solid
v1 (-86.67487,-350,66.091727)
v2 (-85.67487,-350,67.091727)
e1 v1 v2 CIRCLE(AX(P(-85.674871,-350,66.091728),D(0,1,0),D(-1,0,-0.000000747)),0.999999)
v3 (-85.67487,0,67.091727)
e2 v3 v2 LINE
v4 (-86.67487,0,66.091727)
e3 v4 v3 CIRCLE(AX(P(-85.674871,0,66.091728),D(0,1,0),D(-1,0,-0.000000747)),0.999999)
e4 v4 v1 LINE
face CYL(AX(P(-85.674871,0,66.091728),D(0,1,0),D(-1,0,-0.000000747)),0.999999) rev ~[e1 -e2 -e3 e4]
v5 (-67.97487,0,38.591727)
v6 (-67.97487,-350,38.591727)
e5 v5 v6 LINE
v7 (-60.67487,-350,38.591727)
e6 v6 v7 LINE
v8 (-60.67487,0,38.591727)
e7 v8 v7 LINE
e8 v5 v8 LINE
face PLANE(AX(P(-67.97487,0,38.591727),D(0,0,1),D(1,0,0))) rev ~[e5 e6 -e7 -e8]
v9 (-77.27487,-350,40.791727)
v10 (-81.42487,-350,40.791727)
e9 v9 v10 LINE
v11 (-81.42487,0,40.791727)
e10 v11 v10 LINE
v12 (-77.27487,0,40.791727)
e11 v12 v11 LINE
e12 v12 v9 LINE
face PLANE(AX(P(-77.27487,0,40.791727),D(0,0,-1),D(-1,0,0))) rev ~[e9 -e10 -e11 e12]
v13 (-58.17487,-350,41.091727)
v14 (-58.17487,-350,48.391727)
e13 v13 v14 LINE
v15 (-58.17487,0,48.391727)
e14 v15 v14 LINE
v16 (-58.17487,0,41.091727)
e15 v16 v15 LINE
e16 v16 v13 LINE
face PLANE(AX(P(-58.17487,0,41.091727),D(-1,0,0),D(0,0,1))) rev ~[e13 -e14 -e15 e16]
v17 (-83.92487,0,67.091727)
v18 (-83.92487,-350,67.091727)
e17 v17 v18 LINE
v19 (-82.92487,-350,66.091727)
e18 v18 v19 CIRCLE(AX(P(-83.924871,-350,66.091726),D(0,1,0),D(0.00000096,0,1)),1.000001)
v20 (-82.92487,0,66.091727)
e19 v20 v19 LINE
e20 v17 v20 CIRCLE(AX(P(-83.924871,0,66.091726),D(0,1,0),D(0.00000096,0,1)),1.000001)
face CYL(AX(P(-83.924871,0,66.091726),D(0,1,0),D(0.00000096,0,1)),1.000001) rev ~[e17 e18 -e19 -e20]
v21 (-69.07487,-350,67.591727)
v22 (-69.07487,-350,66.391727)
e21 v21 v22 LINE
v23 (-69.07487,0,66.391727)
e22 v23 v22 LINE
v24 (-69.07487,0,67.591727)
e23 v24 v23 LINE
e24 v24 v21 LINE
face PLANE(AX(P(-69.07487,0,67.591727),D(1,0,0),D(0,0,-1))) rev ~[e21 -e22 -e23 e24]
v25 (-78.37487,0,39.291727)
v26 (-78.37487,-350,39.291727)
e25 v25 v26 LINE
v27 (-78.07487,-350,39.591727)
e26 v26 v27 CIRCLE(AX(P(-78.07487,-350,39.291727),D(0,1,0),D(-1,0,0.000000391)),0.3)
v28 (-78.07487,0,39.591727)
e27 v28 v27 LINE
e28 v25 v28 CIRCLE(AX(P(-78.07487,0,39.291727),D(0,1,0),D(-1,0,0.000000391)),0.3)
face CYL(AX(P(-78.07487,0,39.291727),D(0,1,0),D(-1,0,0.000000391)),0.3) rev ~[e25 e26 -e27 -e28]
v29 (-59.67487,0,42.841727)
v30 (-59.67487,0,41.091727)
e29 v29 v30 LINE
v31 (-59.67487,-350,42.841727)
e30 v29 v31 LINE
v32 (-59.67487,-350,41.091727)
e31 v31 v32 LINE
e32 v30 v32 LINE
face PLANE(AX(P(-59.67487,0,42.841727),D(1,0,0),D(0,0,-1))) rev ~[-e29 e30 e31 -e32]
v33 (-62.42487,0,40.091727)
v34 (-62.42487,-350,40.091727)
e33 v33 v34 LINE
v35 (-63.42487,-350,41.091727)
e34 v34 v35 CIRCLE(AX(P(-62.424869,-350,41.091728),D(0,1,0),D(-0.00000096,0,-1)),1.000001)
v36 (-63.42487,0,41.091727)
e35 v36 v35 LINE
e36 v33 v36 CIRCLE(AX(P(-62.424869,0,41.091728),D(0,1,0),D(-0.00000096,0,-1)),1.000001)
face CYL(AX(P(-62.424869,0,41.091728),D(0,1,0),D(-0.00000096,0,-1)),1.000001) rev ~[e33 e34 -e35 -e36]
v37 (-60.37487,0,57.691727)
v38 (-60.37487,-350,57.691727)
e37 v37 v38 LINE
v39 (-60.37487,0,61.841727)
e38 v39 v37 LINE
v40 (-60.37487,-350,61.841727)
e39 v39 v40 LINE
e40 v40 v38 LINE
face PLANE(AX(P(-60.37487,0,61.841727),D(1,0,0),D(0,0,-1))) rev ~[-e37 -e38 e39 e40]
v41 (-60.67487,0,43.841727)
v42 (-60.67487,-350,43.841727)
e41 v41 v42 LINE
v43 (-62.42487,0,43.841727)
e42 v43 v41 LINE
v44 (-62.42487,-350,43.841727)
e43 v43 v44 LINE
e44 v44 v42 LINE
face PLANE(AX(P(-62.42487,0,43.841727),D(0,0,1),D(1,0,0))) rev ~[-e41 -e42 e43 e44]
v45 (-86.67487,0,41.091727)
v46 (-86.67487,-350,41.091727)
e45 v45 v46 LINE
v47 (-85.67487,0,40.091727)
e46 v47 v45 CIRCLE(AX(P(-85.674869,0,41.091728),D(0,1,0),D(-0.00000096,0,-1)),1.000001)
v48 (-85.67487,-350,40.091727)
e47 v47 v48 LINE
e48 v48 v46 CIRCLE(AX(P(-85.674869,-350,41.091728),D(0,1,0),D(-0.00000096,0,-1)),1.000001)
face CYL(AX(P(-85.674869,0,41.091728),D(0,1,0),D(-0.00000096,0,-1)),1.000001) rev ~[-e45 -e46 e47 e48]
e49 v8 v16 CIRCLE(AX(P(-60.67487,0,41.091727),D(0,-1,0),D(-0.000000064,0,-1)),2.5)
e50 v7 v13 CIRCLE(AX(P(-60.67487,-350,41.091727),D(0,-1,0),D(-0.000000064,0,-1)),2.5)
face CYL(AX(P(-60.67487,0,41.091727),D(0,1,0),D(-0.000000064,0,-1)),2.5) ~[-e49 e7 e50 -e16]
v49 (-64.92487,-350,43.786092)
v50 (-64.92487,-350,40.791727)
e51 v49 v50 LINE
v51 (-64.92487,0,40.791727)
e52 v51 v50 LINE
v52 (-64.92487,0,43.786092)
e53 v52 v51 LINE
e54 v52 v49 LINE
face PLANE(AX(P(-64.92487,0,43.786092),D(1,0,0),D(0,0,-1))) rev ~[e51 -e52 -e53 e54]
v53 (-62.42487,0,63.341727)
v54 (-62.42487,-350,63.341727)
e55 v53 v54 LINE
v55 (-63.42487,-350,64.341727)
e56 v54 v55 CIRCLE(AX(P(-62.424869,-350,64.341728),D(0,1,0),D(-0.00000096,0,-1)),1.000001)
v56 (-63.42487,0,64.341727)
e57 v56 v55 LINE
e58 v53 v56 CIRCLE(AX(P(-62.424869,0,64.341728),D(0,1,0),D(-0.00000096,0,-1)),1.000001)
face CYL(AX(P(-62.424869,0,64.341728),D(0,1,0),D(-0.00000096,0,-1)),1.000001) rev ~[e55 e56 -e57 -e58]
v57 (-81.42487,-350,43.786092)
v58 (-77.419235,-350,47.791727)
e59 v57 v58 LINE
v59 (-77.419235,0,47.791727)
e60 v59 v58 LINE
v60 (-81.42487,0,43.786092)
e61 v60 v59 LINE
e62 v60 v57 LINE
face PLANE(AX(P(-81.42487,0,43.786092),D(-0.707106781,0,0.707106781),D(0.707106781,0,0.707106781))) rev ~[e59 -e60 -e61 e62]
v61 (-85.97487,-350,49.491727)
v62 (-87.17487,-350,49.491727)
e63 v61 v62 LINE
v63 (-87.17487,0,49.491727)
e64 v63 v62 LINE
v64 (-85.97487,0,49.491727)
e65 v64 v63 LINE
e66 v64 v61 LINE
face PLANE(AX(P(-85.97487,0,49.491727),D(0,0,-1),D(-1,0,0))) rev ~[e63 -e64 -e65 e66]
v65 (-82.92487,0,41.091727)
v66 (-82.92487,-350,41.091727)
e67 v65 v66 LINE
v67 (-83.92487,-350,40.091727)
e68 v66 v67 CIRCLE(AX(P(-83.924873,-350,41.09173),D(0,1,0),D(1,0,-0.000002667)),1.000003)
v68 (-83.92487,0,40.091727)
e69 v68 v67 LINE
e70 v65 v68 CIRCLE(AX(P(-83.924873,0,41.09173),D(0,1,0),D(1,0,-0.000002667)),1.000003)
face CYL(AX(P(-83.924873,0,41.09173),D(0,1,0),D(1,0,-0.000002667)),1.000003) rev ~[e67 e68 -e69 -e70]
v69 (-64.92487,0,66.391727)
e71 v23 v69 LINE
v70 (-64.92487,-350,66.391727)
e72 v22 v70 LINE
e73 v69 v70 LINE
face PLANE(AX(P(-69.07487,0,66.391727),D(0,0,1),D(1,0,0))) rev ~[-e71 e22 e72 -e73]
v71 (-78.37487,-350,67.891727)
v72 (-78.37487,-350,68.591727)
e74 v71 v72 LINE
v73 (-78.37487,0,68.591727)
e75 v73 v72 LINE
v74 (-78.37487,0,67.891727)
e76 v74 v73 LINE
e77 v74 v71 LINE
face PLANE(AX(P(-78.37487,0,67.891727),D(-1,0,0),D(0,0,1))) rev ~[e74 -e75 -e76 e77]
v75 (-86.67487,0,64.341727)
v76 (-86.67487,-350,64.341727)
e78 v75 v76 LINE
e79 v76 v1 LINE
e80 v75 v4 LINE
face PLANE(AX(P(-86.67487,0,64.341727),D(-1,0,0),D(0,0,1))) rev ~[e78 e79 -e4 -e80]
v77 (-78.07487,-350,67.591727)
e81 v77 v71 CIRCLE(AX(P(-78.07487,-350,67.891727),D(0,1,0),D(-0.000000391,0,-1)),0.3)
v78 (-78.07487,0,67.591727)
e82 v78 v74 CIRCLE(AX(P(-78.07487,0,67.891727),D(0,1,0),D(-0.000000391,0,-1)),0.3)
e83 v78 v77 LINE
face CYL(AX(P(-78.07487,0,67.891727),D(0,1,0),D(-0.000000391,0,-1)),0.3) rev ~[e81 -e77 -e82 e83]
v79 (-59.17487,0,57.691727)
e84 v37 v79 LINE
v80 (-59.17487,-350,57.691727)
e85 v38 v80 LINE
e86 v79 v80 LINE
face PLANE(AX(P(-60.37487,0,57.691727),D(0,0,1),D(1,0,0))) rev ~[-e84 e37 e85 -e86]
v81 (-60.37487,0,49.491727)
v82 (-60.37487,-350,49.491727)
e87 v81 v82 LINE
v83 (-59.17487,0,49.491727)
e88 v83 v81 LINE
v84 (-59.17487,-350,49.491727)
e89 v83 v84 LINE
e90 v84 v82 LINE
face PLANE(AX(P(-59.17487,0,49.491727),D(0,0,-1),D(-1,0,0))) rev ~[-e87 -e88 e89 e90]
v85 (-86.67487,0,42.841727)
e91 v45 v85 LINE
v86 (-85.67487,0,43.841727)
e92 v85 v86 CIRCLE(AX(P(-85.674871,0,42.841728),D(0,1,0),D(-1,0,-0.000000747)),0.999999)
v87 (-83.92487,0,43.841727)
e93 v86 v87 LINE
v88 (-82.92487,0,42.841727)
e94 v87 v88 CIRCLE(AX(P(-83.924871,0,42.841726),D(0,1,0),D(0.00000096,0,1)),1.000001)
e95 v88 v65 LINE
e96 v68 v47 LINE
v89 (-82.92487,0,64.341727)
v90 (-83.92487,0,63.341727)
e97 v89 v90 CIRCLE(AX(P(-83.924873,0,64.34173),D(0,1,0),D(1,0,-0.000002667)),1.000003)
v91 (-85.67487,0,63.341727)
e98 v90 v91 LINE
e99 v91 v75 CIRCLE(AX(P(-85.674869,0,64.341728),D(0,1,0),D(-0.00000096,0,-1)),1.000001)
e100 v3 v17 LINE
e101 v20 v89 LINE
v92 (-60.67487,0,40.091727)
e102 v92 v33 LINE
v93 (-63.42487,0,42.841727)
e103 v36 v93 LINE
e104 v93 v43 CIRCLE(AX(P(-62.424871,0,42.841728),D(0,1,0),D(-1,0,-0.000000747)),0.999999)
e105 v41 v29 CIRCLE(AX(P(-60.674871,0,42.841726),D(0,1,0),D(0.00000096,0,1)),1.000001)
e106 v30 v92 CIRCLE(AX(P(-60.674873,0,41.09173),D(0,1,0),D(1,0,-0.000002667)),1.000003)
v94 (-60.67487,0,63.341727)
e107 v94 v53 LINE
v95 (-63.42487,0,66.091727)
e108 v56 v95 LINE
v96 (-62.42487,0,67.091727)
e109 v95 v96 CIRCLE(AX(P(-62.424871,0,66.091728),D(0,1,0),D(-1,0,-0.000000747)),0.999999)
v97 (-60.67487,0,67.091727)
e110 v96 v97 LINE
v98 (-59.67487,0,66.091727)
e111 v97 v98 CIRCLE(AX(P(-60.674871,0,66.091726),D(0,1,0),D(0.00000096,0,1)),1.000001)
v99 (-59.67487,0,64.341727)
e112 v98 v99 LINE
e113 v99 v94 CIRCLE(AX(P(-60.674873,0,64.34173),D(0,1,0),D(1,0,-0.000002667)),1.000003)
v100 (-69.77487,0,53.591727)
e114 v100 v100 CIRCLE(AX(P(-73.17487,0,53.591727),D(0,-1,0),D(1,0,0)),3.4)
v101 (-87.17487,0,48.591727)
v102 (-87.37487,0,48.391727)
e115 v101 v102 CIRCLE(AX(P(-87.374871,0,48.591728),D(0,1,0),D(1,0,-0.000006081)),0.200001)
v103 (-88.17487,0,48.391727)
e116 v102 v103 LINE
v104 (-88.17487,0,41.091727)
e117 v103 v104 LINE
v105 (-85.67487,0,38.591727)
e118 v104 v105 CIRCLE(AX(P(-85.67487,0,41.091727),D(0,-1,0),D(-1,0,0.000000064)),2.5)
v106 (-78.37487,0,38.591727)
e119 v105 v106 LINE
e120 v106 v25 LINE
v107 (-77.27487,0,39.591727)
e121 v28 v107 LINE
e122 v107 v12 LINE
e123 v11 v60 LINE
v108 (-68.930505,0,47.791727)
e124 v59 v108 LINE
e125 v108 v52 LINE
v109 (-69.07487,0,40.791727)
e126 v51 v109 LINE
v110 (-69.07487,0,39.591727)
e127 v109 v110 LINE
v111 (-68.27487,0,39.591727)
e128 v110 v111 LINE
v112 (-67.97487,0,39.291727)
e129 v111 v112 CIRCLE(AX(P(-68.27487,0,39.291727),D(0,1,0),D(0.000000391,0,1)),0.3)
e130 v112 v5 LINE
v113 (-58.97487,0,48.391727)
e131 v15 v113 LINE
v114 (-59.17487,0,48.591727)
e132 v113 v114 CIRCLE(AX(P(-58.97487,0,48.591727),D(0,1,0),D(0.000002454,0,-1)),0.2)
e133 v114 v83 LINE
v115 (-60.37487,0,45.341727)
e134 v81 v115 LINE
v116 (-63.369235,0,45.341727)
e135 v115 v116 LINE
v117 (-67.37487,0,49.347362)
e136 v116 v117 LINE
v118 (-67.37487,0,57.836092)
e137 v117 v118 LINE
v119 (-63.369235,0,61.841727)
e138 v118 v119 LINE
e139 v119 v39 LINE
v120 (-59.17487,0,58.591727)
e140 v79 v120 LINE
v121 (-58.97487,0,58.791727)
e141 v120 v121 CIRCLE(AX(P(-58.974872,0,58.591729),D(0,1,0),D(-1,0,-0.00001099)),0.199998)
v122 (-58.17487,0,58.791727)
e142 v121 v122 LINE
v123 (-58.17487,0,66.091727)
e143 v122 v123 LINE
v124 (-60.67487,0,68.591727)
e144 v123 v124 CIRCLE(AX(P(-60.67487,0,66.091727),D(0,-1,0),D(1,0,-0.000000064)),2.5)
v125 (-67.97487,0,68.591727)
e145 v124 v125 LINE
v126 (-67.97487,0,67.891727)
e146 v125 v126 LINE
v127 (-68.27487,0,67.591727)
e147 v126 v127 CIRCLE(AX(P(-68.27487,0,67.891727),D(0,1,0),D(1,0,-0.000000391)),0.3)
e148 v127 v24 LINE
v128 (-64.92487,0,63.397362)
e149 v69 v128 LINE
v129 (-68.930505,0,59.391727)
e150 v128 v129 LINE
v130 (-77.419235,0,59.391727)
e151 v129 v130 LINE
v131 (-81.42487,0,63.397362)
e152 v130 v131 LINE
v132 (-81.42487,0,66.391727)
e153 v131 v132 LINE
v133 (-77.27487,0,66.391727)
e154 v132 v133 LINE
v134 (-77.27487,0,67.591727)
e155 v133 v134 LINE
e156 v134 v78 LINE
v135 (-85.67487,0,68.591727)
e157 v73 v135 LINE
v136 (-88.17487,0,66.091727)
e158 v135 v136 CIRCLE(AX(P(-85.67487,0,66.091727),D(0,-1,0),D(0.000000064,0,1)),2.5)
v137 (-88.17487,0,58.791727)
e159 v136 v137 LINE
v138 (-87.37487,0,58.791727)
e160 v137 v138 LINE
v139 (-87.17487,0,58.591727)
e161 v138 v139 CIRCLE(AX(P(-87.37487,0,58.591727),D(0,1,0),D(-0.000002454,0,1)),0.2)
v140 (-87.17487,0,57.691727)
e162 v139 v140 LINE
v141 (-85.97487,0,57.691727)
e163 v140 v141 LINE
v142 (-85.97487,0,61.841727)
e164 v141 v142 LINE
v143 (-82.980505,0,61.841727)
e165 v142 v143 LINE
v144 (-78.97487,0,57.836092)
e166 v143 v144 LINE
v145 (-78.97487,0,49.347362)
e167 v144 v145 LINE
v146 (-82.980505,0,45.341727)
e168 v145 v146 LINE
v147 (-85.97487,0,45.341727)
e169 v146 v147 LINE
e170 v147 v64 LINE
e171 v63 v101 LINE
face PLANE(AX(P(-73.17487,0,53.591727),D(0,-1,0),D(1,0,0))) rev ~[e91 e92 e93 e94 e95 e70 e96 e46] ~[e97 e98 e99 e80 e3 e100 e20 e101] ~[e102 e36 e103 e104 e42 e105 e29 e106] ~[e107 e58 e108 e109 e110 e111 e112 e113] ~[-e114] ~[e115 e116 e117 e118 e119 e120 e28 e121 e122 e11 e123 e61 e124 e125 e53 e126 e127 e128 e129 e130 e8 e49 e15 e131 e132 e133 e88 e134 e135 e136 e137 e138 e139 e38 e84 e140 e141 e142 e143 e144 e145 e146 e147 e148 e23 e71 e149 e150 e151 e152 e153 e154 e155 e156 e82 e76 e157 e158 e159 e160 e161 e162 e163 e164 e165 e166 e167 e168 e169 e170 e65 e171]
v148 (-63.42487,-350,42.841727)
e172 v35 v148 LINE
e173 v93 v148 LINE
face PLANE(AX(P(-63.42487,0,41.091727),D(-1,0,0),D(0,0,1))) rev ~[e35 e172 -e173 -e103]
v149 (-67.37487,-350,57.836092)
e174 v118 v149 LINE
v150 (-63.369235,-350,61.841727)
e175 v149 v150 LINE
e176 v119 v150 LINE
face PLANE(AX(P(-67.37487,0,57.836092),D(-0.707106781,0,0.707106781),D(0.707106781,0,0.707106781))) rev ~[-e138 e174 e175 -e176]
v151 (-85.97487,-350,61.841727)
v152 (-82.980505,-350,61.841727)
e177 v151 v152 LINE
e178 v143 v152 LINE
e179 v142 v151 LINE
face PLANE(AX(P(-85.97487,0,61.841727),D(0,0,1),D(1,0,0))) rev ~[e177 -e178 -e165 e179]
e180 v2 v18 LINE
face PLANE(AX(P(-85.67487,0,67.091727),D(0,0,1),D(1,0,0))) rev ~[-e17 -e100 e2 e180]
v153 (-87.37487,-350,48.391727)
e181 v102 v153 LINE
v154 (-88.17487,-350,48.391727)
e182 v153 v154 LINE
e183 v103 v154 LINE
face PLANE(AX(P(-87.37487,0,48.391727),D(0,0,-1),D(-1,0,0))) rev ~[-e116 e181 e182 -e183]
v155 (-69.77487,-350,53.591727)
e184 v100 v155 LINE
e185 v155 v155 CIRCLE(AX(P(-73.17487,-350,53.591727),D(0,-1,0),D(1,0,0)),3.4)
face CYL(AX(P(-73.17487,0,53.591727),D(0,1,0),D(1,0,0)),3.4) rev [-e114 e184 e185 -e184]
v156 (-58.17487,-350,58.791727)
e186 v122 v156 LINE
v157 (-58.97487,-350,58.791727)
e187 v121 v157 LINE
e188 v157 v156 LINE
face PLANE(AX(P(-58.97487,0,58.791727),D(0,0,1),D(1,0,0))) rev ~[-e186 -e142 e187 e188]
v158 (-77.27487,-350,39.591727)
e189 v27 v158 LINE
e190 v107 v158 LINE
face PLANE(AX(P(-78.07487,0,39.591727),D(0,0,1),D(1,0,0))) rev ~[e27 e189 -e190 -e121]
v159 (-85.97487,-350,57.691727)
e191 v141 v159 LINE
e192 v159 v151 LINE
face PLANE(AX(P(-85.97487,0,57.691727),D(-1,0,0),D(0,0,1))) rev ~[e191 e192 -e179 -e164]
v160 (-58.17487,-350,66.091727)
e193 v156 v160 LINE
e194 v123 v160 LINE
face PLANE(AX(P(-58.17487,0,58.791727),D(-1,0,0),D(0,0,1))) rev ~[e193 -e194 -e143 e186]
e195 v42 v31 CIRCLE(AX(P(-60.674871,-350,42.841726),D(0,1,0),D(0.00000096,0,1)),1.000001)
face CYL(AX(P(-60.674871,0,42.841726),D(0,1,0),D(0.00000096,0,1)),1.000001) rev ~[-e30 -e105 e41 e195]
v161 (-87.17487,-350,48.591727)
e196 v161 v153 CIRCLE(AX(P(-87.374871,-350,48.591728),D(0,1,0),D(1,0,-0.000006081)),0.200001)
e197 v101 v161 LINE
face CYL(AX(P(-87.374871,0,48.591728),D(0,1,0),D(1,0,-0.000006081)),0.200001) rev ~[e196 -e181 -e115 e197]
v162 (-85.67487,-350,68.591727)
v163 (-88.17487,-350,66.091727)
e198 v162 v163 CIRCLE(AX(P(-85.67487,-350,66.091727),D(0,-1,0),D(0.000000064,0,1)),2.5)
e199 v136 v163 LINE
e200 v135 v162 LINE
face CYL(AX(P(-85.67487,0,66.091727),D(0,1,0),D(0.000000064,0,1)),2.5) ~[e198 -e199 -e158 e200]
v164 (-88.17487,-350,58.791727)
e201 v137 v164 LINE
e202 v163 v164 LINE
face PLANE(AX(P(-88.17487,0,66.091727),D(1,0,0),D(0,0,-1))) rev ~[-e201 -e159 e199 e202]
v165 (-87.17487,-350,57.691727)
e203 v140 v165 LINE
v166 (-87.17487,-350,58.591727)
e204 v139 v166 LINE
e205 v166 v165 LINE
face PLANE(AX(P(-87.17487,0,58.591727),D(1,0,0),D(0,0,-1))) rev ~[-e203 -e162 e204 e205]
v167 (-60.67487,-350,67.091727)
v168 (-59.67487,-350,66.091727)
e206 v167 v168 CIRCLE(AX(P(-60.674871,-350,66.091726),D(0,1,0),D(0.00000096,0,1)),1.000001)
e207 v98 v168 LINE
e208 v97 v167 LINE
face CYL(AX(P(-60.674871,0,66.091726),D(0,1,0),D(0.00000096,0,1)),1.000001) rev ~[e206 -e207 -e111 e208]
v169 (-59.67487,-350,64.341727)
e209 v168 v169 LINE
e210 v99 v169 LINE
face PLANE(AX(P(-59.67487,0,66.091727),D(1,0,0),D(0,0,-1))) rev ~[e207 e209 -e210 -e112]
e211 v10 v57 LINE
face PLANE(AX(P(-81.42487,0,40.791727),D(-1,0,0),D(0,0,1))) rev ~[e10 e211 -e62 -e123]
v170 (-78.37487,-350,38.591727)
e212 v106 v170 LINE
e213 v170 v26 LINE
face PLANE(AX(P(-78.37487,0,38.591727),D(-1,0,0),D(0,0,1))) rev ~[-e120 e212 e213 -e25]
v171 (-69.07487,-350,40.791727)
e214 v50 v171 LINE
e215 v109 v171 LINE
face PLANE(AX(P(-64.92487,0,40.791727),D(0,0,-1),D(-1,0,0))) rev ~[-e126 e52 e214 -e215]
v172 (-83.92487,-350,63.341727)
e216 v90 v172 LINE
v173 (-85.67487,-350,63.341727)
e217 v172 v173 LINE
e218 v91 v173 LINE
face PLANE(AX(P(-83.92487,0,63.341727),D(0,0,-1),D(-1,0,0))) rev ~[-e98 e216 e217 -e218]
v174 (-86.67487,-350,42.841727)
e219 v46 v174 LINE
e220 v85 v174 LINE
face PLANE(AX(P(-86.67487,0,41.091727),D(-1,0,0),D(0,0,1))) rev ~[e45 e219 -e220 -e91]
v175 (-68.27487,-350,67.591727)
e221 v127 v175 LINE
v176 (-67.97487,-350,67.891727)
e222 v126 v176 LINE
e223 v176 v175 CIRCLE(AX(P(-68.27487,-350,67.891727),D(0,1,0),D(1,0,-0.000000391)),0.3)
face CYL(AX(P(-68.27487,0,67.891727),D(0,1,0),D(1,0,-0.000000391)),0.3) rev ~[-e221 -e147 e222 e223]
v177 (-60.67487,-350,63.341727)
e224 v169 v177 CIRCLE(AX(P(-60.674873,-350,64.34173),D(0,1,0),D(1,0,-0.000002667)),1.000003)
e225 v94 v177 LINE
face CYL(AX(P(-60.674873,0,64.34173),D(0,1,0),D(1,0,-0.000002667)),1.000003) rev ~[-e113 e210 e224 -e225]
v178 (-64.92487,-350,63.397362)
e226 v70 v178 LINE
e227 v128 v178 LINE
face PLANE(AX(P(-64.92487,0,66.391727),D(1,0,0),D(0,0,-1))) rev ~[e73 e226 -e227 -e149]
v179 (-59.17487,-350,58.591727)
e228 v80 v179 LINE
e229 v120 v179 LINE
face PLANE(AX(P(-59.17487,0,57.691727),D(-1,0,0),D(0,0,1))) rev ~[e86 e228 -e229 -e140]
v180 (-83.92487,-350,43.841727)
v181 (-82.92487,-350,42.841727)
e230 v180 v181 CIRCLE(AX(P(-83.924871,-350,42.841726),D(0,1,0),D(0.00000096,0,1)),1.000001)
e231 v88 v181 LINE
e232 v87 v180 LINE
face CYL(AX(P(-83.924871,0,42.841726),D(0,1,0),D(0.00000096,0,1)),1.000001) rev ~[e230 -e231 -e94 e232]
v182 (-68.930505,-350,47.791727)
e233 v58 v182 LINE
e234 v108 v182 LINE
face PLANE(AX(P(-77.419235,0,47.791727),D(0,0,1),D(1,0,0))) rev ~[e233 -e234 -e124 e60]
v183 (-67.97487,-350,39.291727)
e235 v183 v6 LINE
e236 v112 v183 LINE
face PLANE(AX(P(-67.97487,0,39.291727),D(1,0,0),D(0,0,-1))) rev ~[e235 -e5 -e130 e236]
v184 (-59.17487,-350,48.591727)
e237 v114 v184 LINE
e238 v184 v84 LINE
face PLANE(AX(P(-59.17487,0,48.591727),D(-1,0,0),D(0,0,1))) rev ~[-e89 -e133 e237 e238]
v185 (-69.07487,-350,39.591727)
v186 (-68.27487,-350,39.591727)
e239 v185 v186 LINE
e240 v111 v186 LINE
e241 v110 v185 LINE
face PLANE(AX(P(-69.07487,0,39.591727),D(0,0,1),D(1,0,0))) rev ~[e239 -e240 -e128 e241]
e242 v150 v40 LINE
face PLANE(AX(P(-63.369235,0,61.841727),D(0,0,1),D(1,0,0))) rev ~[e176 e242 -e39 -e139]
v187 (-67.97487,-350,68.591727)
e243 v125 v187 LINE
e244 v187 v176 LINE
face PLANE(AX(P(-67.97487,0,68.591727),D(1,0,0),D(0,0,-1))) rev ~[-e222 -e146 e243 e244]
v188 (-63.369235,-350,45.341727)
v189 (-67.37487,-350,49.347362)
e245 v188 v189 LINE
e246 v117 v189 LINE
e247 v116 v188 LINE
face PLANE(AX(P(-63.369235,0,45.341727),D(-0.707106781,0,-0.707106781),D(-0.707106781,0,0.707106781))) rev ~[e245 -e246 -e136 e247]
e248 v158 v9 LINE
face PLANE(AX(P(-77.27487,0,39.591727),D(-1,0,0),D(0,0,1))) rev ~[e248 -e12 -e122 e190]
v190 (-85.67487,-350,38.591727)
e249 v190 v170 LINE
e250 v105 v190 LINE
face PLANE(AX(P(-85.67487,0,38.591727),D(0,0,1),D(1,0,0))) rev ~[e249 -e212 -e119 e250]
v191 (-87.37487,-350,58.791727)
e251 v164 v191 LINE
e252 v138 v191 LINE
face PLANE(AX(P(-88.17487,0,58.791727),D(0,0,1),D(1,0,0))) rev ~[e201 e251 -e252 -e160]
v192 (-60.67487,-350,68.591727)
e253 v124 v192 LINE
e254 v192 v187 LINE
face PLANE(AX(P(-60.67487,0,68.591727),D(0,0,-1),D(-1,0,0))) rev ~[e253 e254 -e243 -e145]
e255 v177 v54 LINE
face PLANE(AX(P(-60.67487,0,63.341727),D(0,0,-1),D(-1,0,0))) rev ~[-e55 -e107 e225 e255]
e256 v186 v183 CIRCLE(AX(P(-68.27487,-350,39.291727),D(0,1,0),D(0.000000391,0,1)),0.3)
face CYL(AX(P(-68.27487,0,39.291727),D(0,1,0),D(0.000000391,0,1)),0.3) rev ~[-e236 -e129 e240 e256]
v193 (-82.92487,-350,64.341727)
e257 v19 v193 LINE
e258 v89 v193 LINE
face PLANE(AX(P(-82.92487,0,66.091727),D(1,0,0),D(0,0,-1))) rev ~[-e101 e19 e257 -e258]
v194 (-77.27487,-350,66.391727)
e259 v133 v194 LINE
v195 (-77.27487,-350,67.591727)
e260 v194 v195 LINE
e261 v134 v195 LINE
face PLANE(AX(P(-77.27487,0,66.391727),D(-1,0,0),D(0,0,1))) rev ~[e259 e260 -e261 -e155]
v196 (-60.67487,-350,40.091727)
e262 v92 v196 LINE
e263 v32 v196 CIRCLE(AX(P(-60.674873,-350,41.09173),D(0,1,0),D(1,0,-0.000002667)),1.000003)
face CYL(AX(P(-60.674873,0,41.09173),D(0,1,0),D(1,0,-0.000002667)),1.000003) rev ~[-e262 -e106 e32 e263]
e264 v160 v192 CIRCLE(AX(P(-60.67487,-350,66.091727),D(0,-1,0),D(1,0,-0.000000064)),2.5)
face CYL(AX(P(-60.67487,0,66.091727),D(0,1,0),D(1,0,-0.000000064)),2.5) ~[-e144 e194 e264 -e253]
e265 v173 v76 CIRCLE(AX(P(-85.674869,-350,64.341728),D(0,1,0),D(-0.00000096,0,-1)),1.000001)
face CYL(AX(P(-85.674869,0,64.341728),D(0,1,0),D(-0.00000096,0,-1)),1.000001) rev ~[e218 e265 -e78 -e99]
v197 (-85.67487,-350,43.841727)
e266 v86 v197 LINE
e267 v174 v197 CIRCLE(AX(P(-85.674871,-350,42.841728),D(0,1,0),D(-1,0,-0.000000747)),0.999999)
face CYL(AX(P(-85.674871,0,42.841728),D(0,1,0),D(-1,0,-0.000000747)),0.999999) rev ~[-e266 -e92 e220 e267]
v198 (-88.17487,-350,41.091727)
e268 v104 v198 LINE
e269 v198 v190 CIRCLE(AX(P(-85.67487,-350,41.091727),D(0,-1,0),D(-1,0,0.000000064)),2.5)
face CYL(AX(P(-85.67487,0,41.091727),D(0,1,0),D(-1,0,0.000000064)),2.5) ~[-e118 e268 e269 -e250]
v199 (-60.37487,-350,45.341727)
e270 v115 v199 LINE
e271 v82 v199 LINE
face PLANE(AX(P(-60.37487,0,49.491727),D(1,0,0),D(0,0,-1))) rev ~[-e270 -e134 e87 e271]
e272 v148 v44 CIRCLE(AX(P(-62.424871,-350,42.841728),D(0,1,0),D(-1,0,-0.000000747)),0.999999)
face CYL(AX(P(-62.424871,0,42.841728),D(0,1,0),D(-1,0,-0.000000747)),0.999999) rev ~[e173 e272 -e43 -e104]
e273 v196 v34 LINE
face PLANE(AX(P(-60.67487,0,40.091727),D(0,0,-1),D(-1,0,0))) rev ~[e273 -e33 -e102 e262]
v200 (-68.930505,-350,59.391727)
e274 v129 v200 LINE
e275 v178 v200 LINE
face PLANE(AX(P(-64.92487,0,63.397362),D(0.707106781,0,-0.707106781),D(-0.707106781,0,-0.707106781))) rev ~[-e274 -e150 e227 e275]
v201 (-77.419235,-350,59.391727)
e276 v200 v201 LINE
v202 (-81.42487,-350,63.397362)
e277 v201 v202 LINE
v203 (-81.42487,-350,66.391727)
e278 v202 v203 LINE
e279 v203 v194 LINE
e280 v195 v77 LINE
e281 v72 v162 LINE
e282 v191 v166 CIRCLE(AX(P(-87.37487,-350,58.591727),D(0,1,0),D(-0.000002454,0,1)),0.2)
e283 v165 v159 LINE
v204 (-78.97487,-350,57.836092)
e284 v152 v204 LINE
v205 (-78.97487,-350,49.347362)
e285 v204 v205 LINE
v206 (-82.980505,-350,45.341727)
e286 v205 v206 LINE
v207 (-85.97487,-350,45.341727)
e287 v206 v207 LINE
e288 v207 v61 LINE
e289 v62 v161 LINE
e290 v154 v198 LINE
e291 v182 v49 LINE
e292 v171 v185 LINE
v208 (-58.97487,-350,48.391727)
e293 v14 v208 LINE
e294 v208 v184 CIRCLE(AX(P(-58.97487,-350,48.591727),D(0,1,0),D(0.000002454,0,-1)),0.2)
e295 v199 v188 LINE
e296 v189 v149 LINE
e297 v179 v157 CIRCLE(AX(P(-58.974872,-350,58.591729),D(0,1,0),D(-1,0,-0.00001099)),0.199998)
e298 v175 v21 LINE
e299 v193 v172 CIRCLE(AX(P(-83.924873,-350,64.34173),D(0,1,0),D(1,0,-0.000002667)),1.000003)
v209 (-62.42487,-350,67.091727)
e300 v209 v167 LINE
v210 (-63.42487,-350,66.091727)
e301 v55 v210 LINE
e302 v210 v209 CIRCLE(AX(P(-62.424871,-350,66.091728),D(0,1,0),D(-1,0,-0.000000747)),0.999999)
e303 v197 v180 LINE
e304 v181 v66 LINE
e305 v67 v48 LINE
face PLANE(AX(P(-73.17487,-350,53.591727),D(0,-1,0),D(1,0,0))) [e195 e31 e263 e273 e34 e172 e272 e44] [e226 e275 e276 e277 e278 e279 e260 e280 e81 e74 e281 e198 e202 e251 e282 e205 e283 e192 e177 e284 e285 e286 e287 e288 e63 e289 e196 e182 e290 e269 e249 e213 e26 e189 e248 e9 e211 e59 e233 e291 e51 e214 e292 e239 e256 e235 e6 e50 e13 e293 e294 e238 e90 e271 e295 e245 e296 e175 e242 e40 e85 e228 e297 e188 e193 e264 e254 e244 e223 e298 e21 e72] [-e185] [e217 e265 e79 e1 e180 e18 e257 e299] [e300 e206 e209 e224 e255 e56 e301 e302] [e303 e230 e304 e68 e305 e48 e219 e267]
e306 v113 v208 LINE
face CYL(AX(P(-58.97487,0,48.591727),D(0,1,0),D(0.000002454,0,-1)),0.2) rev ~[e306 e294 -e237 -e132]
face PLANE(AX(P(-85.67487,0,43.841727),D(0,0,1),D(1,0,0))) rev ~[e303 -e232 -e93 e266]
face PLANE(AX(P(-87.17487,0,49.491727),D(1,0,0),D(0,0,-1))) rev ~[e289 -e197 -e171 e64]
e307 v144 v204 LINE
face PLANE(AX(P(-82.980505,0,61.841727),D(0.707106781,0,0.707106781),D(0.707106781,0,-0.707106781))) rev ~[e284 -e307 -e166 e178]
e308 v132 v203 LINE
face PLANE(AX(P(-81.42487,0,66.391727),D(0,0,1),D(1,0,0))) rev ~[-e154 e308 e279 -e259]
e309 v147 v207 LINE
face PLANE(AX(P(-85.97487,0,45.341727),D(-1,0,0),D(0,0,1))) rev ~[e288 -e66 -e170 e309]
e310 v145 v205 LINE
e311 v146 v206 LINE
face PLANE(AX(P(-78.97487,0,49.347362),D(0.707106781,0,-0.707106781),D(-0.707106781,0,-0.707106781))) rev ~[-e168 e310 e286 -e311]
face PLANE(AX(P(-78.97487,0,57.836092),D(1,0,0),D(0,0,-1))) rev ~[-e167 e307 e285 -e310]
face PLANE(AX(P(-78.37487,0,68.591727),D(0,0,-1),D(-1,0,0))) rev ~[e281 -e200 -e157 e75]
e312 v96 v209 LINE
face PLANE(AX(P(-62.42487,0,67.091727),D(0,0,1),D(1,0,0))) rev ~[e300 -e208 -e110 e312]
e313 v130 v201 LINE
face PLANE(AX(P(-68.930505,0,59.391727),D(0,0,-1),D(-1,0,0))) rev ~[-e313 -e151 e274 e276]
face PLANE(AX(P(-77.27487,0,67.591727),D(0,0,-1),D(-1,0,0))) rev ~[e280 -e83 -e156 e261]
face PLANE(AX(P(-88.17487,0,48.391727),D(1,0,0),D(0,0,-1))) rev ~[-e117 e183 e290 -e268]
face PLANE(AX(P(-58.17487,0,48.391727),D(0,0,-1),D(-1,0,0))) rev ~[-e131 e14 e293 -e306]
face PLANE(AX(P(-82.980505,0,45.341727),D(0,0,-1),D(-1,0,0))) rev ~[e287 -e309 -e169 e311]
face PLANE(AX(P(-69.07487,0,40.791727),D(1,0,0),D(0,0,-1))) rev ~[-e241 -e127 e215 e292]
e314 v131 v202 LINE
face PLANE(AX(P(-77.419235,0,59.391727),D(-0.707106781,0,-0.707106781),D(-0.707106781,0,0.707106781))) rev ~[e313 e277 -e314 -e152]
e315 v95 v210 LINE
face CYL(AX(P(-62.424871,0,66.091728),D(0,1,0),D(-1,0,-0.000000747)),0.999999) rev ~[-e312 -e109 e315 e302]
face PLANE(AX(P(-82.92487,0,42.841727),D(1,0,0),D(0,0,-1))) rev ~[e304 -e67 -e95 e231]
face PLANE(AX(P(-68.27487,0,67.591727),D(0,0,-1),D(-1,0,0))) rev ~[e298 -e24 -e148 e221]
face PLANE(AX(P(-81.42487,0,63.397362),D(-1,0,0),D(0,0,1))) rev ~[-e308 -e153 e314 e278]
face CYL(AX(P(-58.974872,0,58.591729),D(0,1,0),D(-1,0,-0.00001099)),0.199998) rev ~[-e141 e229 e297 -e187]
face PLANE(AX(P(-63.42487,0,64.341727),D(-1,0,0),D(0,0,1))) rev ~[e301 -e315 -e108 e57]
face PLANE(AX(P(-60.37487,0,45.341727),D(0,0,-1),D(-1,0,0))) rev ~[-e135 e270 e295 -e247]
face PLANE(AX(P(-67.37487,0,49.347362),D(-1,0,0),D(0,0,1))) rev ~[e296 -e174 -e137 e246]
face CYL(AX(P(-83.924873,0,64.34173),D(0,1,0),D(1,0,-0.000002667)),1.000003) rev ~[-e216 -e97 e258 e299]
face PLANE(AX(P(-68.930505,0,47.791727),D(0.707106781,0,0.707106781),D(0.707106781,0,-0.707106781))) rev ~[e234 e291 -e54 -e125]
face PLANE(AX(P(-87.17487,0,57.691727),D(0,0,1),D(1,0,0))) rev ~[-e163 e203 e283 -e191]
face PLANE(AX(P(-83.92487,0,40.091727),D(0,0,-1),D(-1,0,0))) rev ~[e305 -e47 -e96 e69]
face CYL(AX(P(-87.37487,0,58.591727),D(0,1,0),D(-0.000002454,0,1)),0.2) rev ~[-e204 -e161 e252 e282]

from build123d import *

# Parameters (mm, degrees)
F0_R     = 3.4
F1_DEPTH = 350


with BuildPart() as f1:
    # F0 (on Front) → F1 (new body)
    with BuildSketch(Plane.XZ):
        with BuildLine():
            Line((-67.97487, 38.591727), (-60.67487, 38.591727))
            ThreePointArc((-60.67487, 38.591727), (-58.907103, 39.32396), (-58.17487, 41.091727))
            Line((-58.17487, 41.091727), (-58.17487, 48.391727))
            Line((-58.17487, 48.391727), (-58.97487, 48.391727))
            ThreePointArc((-58.97487, 48.391727), (-59.116292, 48.450306), (-59.17487, 48.591727))
            Line((-59.17487, 48.591727), (-59.17487, 49.491727))
            Line((-59.17487, 49.491727), (-60.37487, 49.491727))
            Line((-60.37487, 49.491727), (-60.37487, 45.341727))
            Line((-60.37487, 45.341727), (-63.369235, 45.341727))
            Line((-63.369235, 45.341727), (-67.37487, 49.347362))
            Line((-67.37487, 49.347362), (-67.37487, 57.836092))
            Line((-67.37487, 57.836092), (-63.369235, 61.841727))
            Line((-63.369235, 61.841727), (-60.37487, 61.841727))
            Line((-60.37487, 61.841727), (-60.37487, 57.691727))
            Line((-60.37487, 57.691727), (-59.17487, 57.691727))
            Line((-59.17487, 57.691727), (-59.17487, 58.591727))
            ThreePointArc((-59.17487, 58.591727), (-59.116292, 58.733149), (-58.97487, 58.791727))
            Line((-58.97487, 58.791727), (-58.17487, 58.791727))
            Line((-58.17487, 58.791727), (-58.17487, 61.841727))
            Line((-58.17487, 61.841727), (-58.17487, 66.091727))
            ThreePointArc((-58.17487, 66.091727), (-58.907103, 67.859494), (-60.67487, 68.591727))
            Line((-60.67487, 68.591727), (-64.92487, 68.591727))
            Line((-64.92487, 68.591727), (-67.97487, 68.591727))
            Line((-67.97487, 68.591727), (-67.97487, 67.891727))
            ThreePointArc((-67.97487, 67.891727), (-68.062738, 67.679595), (-68.27487, 67.591727))
            Line((-68.27487, 67.591727), (-69.07487, 67.591727))
            Line((-69.07487, 67.591727), (-69.07487, 66.391727))
            Line((-69.07487, 66.391727), (-64.92487, 66.391727))
            Line((-64.92487, 66.391727), (-64.92487, 63.397362))
            Line((-64.92487, 63.397362), (-68.930505, 59.391727))
            Line((-68.930505, 59.391727), (-77.419235, 59.391727))
            Line((-77.419235, 59.391727), (-81.42487, 63.397362))
            Line((-81.42487, 63.397362), (-81.42487, 66.391727))
            Line((-81.42487, 66.391727), (-77.27487, 66.391727))
            Line((-77.27487, 66.391727), (-77.27487, 67.591727))
            Line((-77.27487, 67.591727), (-78.07487, 67.591727))
            ThreePointArc((-78.07487, 67.591727), (-78.287002, 67.679595), (-78.37487, 67.891727))
            Line((-78.37487, 67.891727), (-78.37487, 68.591727))
            Line((-78.37487, 68.591727), (-85.67487, 68.591727))
            ThreePointArc((-85.67487, 68.591727), (-87.442637, 67.859494), (-88.17487, 66.091727))
            Line((-88.17487, 66.091727), (-88.17487, 58.791727))
            Line((-88.17487, 58.791727), (-87.37487, 58.791727))
            ThreePointArc((-87.37487, 58.791727), (-87.233449, 58.733149), (-87.17487, 58.591727))
            Line((-87.17487, 58.591727), (-87.17487, 57.691727))
            Line((-87.17487, 57.691727), (-85.97487, 57.691727))
            Line((-85.97487, 57.691727), (-85.97487, 61.841727))
            Line((-85.97487, 61.841727), (-82.980505, 61.841727))
            Line((-82.980505, 61.841727), (-78.97487, 57.836092))
            Line((-78.97487, 57.836092), (-78.97487, 49.347362))
            Line((-78.97487, 49.347362), (-82.980505, 45.341727))
            Line((-82.980505, 45.341727), (-85.97487, 45.341727))
            Line((-85.97487, 45.341727), (-85.97487, 49.491727))
            Line((-85.97487, 49.491727), (-87.17487, 49.491727))
            Line((-87.17487, 49.491727), (-87.17487, 48.591727))
            ThreePointArc((-87.17487, 48.591727), (-87.233449, 48.450306), (-87.37487, 48.391727))
            Line((-87.37487, 48.391727), (-88.17487, 48.391727))
            Line((-88.17487, 48.391727), (-88.17487, 41.091727))
            ThreePointArc((-88.17487, 41.091727), (-87.442637, 39.32396), (-85.67487, 38.591727))
            Line((-85.67487, 38.591727), (-78.37487, 38.591727))
            Line((-78.37487, 38.591727), (-78.37487, 39.291727))
            ThreePointArc((-78.37487, 39.291727), (-78.287002, 39.503859), (-78.07487, 39.591727))
            Line((-78.07487, 39.591727), (-77.27487, 39.591727))
            Line((-77.27487, 39.591727), (-77.27487, 40.791727))
            Line((-77.27487, 40.791727), (-81.42487, 40.791727))
            Line((-81.42487, 40.791727), (-81.42487, 43.786092))
            Line((-81.42487, 43.786092), (-77.419235, 47.791727))
            Line((-77.419235, 47.791727), (-68.930505, 47.791727))
            Line((-68.930505, 47.791727), (-64.92487, 43.786092))
            Line((-64.92487, 43.786092), (-64.92487, 40.791727))
            Line((-64.92487, 40.791727), (-69.07487, 40.791727))
            Line((-69.07487, 40.791727), (-69.07487, 39.591727))
            Line((-69.07487, 39.591727), (-68.27487, 39.591727))
            ThreePointArc((-68.27487, 39.591727), (-68.062738, 39.503859), (-67.97487, 39.291727))
            Line((-67.97487, 39.291727), (-67.97487, 38.591727))
        make_face()
        with BuildLine():
            ThreePointArc((-83.92487, 43.841727), (-83.217764, 43.548834), (-82.92487, 42.841727))
            Line((-82.92487, 42.841727), (-82.92487, 41.091727))
            ThreePointArc((-82.92487, 41.091727), (-83.217764, 40.384621), (-83.92487, 40.091727))
            Line((-83.92487, 40.091727), (-85.67487, 40.091727))
            ThreePointArc((-85.67487, 40.091727), (-86.381977, 40.384621), (-86.67487, 41.091727))
            Line((-86.67487, 41.091727), (-86.67487, 42.841727))
            ThreePointArc((-86.67487, 42.841727), (-86.381977, 43.548834), (-85.67487, 43.841727))
            Line((-85.67487, 43.841727), (-83.92487, 43.841727))
        make_face(mode=Mode.SUBTRACT)
        with BuildLine():
            Line((-62.42487, 43.841727), (-60.67487, 43.841727))
            ThreePointArc((-60.67487, 43.841727), (-59.967764, 43.548834), (-59.67487, 42.841727))
            Line((-59.67487, 42.841727), (-59.67487, 41.091727))
            ThreePointArc((-59.67487, 41.091727), (-59.967764, 40.384621), (-60.67487, 40.091727))
            Line((-60.67487, 40.091727), (-62.42487, 40.091727))
            ThreePointArc((-62.42487, 40.091727), (-63.131977, 40.384621), (-63.42487, 41.091727))
            Line((-63.42487, 41.091727), (-63.42487, 42.841727))
            ThreePointArc((-63.42487, 42.841727), (-63.131977, 43.548834), (-62.42487, 43.841727))
        make_face(mode=Mode.SUBTRACT)
        with BuildLine():
            ThreePointArc((-86.67487, 66.091727), (-86.381977, 66.798834), (-85.67487, 67.091727))
            Line((-85.67487, 67.091727), (-83.92487, 67.091727))
            ThreePointArc((-83.92487, 67.091727), (-83.217764, 66.798834), (-82.92487, 66.091727))
            Line((-82.92487, 66.091727), (-82.92487, 64.341727))
            ThreePointArc((-82.92487, 64.341727), (-83.217764, 63.634621), (-83.92487, 63.341727))
            Line((-83.92487, 63.341727), (-85.67487, 63.341727))
            ThreePointArc((-85.67487, 63.341727), (-86.381977, 63.634621), (-86.67487, 64.341727))
            Line((-86.67487, 64.341727), (-86.67487, 66.091727))
        make_face(mode=Mode.SUBTRACT)
        with Locations((-73.17487, 53.591727)):
            Circle(F0_R, mode=Mode.SUBTRACT)
        with BuildLine():
            ThreePointArc((-59.67487, 64.341727), (-59.967764, 63.634621), (-60.67487, 63.341727))
            Line((-60.67487, 63.341727), (-62.42487, 63.341727))
            ThreePointArc((-62.42487, 63.341727), (-63.131977, 63.634621), (-63.42487, 64.341727))
            Line((-63.42487, 64.341727), (-63.42487, 66.091727))
            ThreePointArc((-63.42487, 66.091727), (-63.131977, 66.798834), (-62.42487, 67.091727))
            Line((-62.42487, 67.091727), (-60.67487, 67.091727))
            ThreePointArc((-60.67487, 67.091727), (-59.967764, 66.798834), (-59.67487, 66.091727))
            Line((-59.67487, 66.091727), (-59.67487, 64.341727))
        make_face(mode=Mode.SUBTRACT)
    extrude(amount=F1_DEPTH)


solid = f1.part
